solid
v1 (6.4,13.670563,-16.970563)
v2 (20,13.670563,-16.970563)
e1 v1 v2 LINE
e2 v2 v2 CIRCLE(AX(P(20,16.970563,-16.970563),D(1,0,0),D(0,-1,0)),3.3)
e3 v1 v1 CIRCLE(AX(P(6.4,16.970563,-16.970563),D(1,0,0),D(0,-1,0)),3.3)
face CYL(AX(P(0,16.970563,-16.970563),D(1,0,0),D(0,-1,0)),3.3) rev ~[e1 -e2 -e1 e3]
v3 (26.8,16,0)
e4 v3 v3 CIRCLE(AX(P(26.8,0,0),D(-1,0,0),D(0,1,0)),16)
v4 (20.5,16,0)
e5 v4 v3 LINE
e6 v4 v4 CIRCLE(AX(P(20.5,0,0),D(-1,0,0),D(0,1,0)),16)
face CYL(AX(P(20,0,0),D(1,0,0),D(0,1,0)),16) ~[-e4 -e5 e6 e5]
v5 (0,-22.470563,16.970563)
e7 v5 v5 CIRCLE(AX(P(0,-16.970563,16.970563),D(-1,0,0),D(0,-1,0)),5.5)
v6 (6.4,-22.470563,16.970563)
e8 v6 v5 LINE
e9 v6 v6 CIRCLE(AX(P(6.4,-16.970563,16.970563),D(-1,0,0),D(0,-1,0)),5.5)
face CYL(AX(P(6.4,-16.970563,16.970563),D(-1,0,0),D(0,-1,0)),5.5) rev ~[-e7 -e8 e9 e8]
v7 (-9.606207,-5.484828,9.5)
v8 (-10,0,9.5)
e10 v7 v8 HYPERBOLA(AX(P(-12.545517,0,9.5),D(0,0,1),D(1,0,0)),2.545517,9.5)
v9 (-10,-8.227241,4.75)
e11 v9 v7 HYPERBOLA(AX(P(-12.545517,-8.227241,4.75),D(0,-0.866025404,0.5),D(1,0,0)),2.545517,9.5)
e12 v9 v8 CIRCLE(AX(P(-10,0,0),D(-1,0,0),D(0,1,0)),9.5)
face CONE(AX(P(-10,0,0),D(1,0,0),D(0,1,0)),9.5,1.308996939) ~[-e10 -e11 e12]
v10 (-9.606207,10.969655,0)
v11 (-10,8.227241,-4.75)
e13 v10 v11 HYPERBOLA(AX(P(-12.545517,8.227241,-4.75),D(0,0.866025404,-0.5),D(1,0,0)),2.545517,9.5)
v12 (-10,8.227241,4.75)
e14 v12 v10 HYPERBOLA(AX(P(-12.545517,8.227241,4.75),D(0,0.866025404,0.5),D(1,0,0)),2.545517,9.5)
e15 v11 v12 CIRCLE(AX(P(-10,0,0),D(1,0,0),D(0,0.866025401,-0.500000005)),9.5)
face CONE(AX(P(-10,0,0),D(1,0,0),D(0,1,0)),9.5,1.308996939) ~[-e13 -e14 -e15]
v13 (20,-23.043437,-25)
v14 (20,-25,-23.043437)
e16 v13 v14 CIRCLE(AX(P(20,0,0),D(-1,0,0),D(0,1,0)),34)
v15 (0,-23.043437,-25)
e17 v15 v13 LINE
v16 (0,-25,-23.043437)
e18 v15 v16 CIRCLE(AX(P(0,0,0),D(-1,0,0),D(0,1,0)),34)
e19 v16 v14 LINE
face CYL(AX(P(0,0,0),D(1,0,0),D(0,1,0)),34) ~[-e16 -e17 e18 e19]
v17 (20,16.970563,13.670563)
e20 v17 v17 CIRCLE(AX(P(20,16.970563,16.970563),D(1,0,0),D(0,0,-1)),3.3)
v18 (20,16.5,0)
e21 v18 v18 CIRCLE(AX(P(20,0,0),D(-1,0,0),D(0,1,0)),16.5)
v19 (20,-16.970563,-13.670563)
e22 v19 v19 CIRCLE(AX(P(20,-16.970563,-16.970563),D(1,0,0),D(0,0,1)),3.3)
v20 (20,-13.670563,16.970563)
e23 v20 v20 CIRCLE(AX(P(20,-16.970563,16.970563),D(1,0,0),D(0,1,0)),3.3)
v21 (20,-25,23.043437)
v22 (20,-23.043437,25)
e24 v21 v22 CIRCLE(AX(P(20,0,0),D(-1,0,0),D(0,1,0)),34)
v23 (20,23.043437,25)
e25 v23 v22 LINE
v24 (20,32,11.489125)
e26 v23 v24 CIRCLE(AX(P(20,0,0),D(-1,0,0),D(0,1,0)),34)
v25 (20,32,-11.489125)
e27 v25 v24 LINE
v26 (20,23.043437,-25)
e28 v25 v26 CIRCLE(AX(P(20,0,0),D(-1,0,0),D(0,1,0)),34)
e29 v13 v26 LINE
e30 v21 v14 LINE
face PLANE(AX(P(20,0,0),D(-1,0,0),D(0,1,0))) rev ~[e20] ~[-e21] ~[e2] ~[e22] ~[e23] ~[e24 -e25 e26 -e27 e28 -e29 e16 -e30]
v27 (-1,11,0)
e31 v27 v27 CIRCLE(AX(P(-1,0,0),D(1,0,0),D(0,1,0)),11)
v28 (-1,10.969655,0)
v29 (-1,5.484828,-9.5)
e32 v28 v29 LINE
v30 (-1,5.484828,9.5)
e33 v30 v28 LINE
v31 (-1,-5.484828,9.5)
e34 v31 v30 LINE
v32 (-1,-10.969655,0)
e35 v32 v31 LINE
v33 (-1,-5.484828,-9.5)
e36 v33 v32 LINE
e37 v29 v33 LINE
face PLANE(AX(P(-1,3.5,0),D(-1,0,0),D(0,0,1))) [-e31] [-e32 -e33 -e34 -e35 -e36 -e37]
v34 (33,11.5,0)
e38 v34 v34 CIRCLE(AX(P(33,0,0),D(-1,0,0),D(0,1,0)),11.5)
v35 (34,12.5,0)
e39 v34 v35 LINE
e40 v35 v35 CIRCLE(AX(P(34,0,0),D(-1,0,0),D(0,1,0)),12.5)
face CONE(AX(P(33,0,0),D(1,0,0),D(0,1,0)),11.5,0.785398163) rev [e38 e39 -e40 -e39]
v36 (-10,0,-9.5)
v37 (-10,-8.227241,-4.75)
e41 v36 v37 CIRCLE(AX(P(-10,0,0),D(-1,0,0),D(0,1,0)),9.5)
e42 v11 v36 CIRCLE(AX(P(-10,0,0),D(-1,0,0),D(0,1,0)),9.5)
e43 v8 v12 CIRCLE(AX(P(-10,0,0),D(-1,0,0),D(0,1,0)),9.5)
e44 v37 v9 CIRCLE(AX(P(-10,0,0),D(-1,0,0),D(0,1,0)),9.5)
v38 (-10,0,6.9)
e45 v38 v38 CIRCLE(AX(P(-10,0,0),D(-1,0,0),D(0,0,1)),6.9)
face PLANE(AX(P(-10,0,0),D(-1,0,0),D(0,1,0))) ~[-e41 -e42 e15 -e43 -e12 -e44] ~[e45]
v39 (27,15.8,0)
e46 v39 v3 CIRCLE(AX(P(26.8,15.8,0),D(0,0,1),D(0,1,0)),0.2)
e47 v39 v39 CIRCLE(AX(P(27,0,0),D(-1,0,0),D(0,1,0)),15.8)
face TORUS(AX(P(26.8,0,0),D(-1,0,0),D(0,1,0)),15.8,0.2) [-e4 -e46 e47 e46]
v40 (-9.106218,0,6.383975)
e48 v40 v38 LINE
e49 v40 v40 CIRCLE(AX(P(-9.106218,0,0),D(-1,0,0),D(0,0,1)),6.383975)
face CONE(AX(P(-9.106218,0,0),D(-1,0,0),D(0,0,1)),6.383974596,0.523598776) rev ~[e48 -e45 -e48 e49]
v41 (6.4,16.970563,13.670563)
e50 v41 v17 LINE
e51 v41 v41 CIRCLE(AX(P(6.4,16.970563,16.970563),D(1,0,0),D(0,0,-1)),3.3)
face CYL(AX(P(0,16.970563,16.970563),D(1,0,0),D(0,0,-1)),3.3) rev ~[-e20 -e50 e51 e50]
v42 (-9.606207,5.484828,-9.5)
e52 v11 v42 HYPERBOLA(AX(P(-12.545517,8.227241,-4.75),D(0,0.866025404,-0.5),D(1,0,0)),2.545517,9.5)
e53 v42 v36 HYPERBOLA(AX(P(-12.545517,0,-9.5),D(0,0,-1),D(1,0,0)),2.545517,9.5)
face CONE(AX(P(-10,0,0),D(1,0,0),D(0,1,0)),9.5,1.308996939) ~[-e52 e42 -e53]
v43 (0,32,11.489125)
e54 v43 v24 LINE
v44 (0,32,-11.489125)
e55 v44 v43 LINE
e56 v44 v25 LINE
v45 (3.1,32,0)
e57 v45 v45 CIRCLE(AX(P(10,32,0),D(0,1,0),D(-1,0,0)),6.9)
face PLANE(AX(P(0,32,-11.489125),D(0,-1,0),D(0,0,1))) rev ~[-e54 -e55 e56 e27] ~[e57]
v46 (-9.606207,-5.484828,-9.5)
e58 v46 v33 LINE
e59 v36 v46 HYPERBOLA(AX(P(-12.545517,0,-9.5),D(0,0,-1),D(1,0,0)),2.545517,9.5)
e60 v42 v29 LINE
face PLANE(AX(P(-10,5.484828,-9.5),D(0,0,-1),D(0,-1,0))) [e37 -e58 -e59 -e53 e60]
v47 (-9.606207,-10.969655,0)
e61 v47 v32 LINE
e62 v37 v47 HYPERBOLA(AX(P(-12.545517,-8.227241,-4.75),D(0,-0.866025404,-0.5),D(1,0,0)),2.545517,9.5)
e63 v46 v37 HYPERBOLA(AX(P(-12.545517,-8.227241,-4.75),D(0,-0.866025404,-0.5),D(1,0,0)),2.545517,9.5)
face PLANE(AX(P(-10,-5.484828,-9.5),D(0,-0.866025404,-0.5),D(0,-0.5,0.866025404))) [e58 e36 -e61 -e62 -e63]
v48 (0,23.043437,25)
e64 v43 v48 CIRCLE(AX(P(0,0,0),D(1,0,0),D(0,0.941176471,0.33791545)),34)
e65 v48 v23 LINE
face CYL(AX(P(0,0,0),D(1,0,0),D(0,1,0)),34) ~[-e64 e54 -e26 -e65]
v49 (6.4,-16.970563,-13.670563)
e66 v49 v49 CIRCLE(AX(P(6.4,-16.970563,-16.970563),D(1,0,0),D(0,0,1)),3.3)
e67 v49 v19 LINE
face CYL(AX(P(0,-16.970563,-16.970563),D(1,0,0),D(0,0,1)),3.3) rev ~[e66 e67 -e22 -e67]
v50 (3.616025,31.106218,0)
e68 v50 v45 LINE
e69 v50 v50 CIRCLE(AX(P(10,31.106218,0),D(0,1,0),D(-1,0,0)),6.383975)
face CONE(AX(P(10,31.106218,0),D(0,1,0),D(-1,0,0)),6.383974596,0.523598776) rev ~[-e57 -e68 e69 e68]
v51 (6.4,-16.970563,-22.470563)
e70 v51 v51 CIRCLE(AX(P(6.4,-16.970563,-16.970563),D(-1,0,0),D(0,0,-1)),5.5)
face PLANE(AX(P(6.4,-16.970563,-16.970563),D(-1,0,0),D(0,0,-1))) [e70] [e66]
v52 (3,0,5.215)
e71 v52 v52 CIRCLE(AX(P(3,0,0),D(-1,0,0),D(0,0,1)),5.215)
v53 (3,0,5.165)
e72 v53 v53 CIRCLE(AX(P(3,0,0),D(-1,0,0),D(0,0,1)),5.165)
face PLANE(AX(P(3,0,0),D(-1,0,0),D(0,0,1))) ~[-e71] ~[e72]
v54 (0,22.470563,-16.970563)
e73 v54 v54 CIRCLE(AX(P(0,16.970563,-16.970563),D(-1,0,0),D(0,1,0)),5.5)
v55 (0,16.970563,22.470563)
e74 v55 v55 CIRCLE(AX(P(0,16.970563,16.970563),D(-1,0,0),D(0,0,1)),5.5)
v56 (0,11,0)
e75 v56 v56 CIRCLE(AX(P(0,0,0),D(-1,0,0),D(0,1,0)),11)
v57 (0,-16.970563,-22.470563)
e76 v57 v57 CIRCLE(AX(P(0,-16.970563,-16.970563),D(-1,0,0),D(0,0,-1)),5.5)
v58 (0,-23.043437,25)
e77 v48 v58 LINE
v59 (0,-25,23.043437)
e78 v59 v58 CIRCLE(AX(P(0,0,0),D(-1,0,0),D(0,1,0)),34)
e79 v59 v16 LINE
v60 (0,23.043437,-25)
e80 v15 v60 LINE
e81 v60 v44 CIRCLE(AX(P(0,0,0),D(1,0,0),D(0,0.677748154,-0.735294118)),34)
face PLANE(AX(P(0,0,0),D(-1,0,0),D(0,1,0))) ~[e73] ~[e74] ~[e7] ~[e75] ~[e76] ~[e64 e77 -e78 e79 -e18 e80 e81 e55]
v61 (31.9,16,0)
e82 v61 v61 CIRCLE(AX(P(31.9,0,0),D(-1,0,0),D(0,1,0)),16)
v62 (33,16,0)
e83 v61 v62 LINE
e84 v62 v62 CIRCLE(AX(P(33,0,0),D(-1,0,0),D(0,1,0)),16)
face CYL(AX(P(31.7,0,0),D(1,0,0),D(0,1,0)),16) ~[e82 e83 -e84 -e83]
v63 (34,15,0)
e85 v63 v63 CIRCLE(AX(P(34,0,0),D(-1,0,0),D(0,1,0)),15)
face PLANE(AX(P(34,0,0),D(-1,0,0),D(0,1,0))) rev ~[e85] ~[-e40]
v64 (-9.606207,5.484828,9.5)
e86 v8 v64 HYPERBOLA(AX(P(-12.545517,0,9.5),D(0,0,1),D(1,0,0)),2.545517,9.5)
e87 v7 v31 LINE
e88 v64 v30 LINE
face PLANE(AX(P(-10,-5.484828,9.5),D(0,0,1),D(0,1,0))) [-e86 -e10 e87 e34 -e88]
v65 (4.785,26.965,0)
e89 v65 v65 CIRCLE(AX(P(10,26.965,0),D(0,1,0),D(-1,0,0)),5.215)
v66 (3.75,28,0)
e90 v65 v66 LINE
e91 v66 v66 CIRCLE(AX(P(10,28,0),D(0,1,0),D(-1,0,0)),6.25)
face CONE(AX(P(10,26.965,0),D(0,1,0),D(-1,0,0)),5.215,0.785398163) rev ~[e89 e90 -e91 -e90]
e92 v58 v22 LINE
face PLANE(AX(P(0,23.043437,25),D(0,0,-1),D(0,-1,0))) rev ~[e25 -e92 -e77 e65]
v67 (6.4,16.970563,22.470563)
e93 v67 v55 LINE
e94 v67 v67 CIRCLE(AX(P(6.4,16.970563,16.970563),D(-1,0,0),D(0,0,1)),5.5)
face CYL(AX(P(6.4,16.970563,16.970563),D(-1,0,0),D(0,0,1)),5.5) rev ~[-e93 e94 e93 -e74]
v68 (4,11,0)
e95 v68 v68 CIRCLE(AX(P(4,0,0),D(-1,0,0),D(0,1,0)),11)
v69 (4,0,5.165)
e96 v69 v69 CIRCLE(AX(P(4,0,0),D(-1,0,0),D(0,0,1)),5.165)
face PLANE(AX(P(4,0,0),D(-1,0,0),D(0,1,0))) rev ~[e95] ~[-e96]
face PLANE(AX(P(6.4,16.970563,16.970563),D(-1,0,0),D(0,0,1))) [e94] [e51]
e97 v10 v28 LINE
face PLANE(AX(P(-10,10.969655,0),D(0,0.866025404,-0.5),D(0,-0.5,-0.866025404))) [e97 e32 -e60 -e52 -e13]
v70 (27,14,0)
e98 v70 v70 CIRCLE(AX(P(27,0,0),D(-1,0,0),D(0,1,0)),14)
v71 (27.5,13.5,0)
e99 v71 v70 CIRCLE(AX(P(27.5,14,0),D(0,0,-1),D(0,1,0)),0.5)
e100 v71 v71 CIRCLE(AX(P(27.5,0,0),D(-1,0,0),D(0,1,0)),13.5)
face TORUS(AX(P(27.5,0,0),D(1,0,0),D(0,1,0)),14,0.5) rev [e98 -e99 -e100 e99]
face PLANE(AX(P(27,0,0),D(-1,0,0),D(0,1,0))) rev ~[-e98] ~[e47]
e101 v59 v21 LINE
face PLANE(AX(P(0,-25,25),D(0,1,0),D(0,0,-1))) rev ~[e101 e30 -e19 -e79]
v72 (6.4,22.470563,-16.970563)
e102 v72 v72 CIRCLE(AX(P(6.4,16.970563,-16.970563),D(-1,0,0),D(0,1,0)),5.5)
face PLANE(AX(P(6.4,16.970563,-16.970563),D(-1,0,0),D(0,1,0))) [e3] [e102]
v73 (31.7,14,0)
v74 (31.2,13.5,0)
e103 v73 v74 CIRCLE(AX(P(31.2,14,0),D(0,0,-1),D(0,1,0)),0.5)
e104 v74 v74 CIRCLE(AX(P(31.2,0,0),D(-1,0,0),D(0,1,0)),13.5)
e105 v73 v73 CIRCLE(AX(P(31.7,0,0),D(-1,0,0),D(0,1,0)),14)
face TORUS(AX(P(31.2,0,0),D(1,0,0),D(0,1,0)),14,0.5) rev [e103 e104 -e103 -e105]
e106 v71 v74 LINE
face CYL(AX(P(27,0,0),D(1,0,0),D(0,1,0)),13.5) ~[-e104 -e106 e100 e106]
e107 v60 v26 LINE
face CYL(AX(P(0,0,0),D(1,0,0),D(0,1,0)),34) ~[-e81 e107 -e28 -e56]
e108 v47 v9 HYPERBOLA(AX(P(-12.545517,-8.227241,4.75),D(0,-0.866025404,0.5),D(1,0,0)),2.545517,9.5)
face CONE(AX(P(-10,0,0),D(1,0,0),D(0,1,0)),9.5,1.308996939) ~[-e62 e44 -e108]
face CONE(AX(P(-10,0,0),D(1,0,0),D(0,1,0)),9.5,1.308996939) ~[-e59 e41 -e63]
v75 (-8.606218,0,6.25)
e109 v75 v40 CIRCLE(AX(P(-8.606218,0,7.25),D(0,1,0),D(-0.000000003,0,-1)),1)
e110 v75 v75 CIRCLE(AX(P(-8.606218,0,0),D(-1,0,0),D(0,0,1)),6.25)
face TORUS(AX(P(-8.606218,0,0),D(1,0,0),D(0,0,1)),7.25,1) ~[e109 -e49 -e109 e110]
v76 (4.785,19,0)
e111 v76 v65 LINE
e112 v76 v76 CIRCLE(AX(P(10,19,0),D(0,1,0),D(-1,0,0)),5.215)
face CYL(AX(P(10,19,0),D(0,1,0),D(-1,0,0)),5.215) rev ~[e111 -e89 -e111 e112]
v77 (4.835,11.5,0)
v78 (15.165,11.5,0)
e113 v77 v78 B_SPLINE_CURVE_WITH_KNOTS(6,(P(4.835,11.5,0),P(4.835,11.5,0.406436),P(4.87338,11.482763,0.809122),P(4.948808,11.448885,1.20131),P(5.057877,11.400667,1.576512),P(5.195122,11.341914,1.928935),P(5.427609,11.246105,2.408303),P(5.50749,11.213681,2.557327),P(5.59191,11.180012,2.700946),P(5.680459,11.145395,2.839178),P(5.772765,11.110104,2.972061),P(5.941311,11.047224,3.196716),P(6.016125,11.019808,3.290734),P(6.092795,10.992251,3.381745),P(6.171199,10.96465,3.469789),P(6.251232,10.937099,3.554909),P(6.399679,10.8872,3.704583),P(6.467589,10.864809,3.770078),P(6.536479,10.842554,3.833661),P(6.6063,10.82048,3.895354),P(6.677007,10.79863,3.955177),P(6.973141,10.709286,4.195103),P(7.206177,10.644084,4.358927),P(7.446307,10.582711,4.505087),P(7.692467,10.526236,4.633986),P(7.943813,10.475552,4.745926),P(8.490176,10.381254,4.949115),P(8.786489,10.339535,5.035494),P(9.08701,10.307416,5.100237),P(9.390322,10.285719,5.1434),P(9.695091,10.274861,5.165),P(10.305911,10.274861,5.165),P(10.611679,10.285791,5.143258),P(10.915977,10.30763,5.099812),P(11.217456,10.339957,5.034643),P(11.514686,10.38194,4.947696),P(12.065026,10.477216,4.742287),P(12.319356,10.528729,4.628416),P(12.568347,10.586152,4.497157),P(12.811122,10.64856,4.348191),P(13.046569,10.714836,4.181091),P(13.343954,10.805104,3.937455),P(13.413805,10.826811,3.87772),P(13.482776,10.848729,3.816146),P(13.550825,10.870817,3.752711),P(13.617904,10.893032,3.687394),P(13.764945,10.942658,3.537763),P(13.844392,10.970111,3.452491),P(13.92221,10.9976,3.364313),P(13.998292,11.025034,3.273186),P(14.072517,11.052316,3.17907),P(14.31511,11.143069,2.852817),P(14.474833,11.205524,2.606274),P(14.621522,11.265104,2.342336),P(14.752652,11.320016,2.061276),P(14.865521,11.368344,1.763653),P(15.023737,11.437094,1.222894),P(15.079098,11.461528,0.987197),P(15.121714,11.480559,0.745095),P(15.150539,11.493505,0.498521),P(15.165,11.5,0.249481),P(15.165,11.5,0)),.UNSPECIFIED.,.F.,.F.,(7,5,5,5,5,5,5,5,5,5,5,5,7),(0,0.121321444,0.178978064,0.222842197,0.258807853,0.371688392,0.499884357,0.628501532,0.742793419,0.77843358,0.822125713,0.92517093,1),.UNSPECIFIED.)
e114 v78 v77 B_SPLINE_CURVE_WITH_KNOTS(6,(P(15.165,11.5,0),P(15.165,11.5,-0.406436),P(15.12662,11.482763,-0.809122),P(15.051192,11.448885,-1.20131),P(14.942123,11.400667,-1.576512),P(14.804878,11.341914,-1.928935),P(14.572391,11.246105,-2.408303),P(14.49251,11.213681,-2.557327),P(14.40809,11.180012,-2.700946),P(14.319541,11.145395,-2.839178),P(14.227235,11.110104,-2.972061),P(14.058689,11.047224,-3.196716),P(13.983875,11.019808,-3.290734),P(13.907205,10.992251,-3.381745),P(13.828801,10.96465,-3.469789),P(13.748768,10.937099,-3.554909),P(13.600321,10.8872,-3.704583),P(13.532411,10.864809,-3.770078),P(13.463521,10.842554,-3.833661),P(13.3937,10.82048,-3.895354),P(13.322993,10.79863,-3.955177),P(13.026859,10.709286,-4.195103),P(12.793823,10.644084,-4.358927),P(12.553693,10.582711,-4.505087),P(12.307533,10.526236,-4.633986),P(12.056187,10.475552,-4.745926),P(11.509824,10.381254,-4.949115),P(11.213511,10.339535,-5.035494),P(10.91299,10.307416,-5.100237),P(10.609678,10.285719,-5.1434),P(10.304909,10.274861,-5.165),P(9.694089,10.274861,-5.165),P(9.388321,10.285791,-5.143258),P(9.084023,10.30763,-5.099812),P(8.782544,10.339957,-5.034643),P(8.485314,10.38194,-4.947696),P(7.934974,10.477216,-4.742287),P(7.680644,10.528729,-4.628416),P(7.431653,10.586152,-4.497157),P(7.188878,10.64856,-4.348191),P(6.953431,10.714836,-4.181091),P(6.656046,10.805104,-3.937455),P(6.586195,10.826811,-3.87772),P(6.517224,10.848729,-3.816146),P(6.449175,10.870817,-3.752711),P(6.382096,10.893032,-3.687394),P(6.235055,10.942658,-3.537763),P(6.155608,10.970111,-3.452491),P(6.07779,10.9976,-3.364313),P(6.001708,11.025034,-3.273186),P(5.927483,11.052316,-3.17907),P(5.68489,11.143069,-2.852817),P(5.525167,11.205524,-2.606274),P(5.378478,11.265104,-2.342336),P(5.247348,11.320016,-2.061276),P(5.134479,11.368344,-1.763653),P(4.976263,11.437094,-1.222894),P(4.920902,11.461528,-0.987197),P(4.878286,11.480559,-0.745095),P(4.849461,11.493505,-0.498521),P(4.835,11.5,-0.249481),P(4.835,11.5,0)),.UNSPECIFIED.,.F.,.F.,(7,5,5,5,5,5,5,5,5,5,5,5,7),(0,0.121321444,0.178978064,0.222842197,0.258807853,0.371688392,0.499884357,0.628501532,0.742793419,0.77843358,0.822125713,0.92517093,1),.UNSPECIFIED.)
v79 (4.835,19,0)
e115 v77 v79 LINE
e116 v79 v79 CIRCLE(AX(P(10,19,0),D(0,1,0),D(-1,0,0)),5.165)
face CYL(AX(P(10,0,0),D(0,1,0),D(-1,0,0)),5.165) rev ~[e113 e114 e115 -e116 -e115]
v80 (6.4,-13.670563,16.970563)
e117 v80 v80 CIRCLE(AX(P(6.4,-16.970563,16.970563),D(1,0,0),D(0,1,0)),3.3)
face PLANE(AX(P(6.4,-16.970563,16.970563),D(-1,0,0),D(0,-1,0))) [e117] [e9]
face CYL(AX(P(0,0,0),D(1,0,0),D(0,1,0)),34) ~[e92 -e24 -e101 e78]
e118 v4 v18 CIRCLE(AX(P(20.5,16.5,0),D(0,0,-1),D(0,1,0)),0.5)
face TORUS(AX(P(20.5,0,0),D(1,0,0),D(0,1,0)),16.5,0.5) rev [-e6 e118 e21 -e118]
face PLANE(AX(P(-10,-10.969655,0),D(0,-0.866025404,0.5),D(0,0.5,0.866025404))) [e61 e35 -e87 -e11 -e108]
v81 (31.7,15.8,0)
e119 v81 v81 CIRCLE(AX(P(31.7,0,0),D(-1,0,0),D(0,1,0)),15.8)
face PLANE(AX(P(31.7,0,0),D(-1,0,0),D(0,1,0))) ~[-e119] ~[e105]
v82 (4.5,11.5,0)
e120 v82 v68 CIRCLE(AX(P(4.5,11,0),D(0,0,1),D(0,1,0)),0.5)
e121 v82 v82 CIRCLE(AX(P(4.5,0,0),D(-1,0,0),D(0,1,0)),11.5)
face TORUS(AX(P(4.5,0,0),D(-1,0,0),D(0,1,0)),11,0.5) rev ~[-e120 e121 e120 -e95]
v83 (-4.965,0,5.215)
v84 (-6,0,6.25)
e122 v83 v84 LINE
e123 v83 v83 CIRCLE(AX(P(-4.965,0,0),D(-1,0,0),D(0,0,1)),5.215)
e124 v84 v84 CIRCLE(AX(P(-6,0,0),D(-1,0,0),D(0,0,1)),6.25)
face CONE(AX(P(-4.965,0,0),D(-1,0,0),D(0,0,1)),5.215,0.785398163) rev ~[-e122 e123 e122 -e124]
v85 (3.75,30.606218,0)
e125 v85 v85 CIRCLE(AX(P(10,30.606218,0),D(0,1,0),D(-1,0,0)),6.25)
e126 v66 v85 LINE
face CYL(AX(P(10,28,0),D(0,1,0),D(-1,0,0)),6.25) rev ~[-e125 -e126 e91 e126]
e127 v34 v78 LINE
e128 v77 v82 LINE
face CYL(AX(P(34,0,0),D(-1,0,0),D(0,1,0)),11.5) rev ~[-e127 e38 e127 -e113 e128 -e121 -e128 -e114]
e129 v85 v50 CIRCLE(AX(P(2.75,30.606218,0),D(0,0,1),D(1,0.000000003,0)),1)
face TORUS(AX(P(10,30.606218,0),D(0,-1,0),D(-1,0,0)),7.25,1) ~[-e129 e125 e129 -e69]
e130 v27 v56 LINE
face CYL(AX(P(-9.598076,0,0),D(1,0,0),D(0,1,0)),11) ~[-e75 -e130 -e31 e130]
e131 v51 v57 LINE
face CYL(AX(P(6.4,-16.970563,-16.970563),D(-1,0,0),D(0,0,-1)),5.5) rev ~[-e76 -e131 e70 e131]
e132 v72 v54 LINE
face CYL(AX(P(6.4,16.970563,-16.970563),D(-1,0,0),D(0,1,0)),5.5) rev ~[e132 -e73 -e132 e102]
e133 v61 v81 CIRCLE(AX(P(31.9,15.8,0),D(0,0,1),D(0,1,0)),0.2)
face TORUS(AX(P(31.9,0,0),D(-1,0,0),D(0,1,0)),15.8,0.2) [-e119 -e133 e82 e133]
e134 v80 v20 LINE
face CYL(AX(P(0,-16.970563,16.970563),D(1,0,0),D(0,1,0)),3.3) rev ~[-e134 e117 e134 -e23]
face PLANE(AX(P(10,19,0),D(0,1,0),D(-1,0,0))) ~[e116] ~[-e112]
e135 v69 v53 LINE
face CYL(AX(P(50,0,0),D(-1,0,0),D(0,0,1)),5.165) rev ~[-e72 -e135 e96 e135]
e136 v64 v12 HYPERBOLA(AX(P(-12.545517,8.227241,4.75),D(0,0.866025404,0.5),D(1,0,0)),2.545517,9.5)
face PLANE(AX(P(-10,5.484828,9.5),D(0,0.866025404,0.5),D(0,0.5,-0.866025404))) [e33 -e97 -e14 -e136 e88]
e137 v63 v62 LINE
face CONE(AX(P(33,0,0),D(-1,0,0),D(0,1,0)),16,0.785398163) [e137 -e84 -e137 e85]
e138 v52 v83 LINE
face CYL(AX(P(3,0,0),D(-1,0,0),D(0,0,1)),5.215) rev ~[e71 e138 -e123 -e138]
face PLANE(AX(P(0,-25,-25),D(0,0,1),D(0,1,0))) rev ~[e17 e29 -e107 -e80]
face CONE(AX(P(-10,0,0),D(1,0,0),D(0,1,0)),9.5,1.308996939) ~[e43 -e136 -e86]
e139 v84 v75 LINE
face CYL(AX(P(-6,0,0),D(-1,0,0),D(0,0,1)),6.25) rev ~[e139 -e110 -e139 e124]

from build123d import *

# Parameters (mm, degrees)
SKETCH_2_OUTSIDE_W          = 91.15
SKETCH_2_OUTSIDE_H          = 91.15
CUT_EXTRUDE_1_DEPTH         = 35
HOLE_WIZARD_M61_D           = 6.6
HOLE_WIZARD_M61_CBORE_D     = 11
HOLE_WIZARD_M61_CBORE_DEPTH = 6.4
PATTERN_CIRCULAR_1_COUNT    = 4
SKETCH_11_OUTSIDE_W         = 69.532
SKETCH_11_OUTSIDE_H         = 76.532
CUT_EXTRUDE_2_DEPTH         = 9
CHAMFER_1_SIZE              = 1
FILLET_1_R                  = 0.2
FILLET_2_R                  = 0.5
FILLET_3_R                  = 0.5


with BuildPart() as part:
    # Эскиз1 → Повернуть1 (revolve)
    with BuildSketch(Plane.XY):
        Polygon((20, 34), (20, 16), (27, 16), (27, 13.5), (31.7, 13.5), (31.7, 16), (34, 16), (34, 11.5), (4, 11.5), (4, 0), (-10, 0), (-10, 9.5), (-9.598076211, 11), (0, 11), (0, 34), align=None)
    revolve(axis=Axis((0, 0, 0), (-1, 0, 0)))

    # Эскиз2 outside → Вырез-Вытянуть1 (cut, through all)
    with BuildSketch(Plane.ZY):
        Rectangle(SKETCH_2_OUTSIDE_W, SKETCH_2_OUTSIDE_H)
        with BuildLine():
            Line((-11.489125293, 32), (11.489125293, 32))
            ThreePointArc((11.489125293, 32), (18.786140377, 28.338682569), (25, 23.043437244))
            Line((25, 23.043437244), (25, -25))
            Line((25, -25), (-25, -25))
            Line((-25, -25), (-25, 23.043437244))
            ThreePointArc((-25, 23.043437244), (-18.786140377, 28.338682569), (-11.489125293, 32))
        make_face(mode=Mode.SUBTRACT)
    extrude(amount=-CUT_EXTRUDE_1_DEPTH, mode=Mode.SUBTRACT)

    # Sketch2 → Cut-Revolve1 (revolve, cut)
    with BuildSketch(Plane(origin=(-10, 0, 0), x_dir=(0, 0, -1), z_dir=(0, 1, 0))):
        with BuildLine():
            Line((0, 0), (0, -63.103445097))
            Line((0, -63.103445097), (-5.165, -60))
            Line((-5.165, -60), (-5.165, -13))
            Line((-5.165, -13), (-5.215, -13))
            Line((-5.215, -13), (-5.215, -5.035))
            Line((-5.215, -5.035), (-6.25, -4))
            Line((-6.25, -4), (-6.25, -1.393782217))
            ThreePointArc((-6.25, -1.393782217), (-6.284074174, -1.134963172), (-6.383974596, -0.893782217))
            Line((-6.383974596, -0.893782217), (-6.9, 0))
            Line((-6.9, 0), (0, 0))
        make_face()
    revolve(axis=Axis((-10, 0, 0), (-1, 0, 0)), mode=Mode.SUBTRACT)

    # Цековка для винта с внутренним шестигранником M61 (through all)
    with Locations(Plane.ZY):
        with Locations((16.970562748, 16.970562748)):
            hole_wizard_m61 = CounterBoreHole(HOLE_WIZARD_M61_D / 2, HOLE_WIZARD_M61_CBORE_D / 2, HOLE_WIZARD_M61_CBORE_DEPTH)

    # Круговой массив1: Цековка для винта с внутренним шестигранником M61 ×4 about axis
    pattern_circular_1_axis = Axis((0, 0, 0), (1, 0, 0))
    for i in range(1, PATTERN_CIRCULAR_1_COUNT):
        add(hole_wizard_m61.rotate(pattern_circular_1_axis, i * 360 / PATTERN_CIRCULAR_1_COUNT), mode=Mode.SUBTRACT)

    # Sketch22 → Cut-Revolve12 (revolve, cut)
    with BuildSketch(Plane(origin=(10, 32, 0), x_dir=(1, 0, 0), z_dir=(0, 0, 1))):
        with BuildLine():
            Line((0, 0), (0, -35.103445097))
            Line((0, -35.103445097), (-5.165, -32))
            Line((-5.165, -32), (-5.165, -13))
            Line((-5.165, -13), (-5.215, -13))
            Line((-5.215, -13), (-5.215, -5.035))
            Line((-5.215, -5.035), (-6.25, -4))
            Line((-6.25, -4), (-6.25, -1.393782217))
            ThreePointArc((-6.25, -1.393782217), (-6.284074174, -1.134963172), (-6.383974596, -0.893782217))
            Line((-6.383974596, -0.893782217), (-6.9, 0))
            Line((-6.9, 0), (0, 0))
        make_face()
    revolve(axis=Axis((10, 32, 0), (0, 1, 0)), mode=Mode.SUBTRACT)

    # Эскиз11 outside → Вырез-Вытянуть2 (cut)
    with BuildSketch(Plane.ZY.offset(10)):
        with Locations((0, 3.5)):
            Rectangle(SKETCH_11_OUTSIDE_W, SKETCH_11_OUTSIDE_H)
        Polygon((0, 10.969655115), (-9.5, 5.484827557), (-9.5, -5.484827557), (0, -10.969655115), (9.5, -5.484827557), (9.5, 5.484827557), align=None, mode=Mode.SUBTRACT)
    extrude(amount=-CUT_EXTRUDE_2_DEPTH, mode=Mode.SUBTRACT)

    # Фаска1
    chamfer_1_edges = [part.edges().sort_by_distance(p)[0] for p in [
        (34, -16, 0),
        (34, -11.5, 0),
    ]]
    chamfer(chamfer_1_edges, length=CHAMFER_1_SIZE)

    # Скругление1
    fillet_1_edges = [part.edges().sort_by_distance(p)[0] for p in [
        (27, -16, 0),
        (31.7, -16, 0),
    ]]
    fillet(fillet_1_edges, radius=FILLET_1_R)

    # Скругление2
    fillet_2_edges = [part.edges().sort_by_distance(p)[0] for p in [
        (27, -13.5, 0),
        (31.7, -13.5, 0),
    ]]
    fillet(fillet_2_edges, radius=FILLET_2_R)

    # Скругление3
    fillet_3_edges = [part.edges().sort_by_distance(p)[0] for p in [
        (20, -16, 0),
        (4, -11.5, 0),
    ]]
    fillet(fillet_3_edges, radius=FILLET_3_R)


solid = part.part
